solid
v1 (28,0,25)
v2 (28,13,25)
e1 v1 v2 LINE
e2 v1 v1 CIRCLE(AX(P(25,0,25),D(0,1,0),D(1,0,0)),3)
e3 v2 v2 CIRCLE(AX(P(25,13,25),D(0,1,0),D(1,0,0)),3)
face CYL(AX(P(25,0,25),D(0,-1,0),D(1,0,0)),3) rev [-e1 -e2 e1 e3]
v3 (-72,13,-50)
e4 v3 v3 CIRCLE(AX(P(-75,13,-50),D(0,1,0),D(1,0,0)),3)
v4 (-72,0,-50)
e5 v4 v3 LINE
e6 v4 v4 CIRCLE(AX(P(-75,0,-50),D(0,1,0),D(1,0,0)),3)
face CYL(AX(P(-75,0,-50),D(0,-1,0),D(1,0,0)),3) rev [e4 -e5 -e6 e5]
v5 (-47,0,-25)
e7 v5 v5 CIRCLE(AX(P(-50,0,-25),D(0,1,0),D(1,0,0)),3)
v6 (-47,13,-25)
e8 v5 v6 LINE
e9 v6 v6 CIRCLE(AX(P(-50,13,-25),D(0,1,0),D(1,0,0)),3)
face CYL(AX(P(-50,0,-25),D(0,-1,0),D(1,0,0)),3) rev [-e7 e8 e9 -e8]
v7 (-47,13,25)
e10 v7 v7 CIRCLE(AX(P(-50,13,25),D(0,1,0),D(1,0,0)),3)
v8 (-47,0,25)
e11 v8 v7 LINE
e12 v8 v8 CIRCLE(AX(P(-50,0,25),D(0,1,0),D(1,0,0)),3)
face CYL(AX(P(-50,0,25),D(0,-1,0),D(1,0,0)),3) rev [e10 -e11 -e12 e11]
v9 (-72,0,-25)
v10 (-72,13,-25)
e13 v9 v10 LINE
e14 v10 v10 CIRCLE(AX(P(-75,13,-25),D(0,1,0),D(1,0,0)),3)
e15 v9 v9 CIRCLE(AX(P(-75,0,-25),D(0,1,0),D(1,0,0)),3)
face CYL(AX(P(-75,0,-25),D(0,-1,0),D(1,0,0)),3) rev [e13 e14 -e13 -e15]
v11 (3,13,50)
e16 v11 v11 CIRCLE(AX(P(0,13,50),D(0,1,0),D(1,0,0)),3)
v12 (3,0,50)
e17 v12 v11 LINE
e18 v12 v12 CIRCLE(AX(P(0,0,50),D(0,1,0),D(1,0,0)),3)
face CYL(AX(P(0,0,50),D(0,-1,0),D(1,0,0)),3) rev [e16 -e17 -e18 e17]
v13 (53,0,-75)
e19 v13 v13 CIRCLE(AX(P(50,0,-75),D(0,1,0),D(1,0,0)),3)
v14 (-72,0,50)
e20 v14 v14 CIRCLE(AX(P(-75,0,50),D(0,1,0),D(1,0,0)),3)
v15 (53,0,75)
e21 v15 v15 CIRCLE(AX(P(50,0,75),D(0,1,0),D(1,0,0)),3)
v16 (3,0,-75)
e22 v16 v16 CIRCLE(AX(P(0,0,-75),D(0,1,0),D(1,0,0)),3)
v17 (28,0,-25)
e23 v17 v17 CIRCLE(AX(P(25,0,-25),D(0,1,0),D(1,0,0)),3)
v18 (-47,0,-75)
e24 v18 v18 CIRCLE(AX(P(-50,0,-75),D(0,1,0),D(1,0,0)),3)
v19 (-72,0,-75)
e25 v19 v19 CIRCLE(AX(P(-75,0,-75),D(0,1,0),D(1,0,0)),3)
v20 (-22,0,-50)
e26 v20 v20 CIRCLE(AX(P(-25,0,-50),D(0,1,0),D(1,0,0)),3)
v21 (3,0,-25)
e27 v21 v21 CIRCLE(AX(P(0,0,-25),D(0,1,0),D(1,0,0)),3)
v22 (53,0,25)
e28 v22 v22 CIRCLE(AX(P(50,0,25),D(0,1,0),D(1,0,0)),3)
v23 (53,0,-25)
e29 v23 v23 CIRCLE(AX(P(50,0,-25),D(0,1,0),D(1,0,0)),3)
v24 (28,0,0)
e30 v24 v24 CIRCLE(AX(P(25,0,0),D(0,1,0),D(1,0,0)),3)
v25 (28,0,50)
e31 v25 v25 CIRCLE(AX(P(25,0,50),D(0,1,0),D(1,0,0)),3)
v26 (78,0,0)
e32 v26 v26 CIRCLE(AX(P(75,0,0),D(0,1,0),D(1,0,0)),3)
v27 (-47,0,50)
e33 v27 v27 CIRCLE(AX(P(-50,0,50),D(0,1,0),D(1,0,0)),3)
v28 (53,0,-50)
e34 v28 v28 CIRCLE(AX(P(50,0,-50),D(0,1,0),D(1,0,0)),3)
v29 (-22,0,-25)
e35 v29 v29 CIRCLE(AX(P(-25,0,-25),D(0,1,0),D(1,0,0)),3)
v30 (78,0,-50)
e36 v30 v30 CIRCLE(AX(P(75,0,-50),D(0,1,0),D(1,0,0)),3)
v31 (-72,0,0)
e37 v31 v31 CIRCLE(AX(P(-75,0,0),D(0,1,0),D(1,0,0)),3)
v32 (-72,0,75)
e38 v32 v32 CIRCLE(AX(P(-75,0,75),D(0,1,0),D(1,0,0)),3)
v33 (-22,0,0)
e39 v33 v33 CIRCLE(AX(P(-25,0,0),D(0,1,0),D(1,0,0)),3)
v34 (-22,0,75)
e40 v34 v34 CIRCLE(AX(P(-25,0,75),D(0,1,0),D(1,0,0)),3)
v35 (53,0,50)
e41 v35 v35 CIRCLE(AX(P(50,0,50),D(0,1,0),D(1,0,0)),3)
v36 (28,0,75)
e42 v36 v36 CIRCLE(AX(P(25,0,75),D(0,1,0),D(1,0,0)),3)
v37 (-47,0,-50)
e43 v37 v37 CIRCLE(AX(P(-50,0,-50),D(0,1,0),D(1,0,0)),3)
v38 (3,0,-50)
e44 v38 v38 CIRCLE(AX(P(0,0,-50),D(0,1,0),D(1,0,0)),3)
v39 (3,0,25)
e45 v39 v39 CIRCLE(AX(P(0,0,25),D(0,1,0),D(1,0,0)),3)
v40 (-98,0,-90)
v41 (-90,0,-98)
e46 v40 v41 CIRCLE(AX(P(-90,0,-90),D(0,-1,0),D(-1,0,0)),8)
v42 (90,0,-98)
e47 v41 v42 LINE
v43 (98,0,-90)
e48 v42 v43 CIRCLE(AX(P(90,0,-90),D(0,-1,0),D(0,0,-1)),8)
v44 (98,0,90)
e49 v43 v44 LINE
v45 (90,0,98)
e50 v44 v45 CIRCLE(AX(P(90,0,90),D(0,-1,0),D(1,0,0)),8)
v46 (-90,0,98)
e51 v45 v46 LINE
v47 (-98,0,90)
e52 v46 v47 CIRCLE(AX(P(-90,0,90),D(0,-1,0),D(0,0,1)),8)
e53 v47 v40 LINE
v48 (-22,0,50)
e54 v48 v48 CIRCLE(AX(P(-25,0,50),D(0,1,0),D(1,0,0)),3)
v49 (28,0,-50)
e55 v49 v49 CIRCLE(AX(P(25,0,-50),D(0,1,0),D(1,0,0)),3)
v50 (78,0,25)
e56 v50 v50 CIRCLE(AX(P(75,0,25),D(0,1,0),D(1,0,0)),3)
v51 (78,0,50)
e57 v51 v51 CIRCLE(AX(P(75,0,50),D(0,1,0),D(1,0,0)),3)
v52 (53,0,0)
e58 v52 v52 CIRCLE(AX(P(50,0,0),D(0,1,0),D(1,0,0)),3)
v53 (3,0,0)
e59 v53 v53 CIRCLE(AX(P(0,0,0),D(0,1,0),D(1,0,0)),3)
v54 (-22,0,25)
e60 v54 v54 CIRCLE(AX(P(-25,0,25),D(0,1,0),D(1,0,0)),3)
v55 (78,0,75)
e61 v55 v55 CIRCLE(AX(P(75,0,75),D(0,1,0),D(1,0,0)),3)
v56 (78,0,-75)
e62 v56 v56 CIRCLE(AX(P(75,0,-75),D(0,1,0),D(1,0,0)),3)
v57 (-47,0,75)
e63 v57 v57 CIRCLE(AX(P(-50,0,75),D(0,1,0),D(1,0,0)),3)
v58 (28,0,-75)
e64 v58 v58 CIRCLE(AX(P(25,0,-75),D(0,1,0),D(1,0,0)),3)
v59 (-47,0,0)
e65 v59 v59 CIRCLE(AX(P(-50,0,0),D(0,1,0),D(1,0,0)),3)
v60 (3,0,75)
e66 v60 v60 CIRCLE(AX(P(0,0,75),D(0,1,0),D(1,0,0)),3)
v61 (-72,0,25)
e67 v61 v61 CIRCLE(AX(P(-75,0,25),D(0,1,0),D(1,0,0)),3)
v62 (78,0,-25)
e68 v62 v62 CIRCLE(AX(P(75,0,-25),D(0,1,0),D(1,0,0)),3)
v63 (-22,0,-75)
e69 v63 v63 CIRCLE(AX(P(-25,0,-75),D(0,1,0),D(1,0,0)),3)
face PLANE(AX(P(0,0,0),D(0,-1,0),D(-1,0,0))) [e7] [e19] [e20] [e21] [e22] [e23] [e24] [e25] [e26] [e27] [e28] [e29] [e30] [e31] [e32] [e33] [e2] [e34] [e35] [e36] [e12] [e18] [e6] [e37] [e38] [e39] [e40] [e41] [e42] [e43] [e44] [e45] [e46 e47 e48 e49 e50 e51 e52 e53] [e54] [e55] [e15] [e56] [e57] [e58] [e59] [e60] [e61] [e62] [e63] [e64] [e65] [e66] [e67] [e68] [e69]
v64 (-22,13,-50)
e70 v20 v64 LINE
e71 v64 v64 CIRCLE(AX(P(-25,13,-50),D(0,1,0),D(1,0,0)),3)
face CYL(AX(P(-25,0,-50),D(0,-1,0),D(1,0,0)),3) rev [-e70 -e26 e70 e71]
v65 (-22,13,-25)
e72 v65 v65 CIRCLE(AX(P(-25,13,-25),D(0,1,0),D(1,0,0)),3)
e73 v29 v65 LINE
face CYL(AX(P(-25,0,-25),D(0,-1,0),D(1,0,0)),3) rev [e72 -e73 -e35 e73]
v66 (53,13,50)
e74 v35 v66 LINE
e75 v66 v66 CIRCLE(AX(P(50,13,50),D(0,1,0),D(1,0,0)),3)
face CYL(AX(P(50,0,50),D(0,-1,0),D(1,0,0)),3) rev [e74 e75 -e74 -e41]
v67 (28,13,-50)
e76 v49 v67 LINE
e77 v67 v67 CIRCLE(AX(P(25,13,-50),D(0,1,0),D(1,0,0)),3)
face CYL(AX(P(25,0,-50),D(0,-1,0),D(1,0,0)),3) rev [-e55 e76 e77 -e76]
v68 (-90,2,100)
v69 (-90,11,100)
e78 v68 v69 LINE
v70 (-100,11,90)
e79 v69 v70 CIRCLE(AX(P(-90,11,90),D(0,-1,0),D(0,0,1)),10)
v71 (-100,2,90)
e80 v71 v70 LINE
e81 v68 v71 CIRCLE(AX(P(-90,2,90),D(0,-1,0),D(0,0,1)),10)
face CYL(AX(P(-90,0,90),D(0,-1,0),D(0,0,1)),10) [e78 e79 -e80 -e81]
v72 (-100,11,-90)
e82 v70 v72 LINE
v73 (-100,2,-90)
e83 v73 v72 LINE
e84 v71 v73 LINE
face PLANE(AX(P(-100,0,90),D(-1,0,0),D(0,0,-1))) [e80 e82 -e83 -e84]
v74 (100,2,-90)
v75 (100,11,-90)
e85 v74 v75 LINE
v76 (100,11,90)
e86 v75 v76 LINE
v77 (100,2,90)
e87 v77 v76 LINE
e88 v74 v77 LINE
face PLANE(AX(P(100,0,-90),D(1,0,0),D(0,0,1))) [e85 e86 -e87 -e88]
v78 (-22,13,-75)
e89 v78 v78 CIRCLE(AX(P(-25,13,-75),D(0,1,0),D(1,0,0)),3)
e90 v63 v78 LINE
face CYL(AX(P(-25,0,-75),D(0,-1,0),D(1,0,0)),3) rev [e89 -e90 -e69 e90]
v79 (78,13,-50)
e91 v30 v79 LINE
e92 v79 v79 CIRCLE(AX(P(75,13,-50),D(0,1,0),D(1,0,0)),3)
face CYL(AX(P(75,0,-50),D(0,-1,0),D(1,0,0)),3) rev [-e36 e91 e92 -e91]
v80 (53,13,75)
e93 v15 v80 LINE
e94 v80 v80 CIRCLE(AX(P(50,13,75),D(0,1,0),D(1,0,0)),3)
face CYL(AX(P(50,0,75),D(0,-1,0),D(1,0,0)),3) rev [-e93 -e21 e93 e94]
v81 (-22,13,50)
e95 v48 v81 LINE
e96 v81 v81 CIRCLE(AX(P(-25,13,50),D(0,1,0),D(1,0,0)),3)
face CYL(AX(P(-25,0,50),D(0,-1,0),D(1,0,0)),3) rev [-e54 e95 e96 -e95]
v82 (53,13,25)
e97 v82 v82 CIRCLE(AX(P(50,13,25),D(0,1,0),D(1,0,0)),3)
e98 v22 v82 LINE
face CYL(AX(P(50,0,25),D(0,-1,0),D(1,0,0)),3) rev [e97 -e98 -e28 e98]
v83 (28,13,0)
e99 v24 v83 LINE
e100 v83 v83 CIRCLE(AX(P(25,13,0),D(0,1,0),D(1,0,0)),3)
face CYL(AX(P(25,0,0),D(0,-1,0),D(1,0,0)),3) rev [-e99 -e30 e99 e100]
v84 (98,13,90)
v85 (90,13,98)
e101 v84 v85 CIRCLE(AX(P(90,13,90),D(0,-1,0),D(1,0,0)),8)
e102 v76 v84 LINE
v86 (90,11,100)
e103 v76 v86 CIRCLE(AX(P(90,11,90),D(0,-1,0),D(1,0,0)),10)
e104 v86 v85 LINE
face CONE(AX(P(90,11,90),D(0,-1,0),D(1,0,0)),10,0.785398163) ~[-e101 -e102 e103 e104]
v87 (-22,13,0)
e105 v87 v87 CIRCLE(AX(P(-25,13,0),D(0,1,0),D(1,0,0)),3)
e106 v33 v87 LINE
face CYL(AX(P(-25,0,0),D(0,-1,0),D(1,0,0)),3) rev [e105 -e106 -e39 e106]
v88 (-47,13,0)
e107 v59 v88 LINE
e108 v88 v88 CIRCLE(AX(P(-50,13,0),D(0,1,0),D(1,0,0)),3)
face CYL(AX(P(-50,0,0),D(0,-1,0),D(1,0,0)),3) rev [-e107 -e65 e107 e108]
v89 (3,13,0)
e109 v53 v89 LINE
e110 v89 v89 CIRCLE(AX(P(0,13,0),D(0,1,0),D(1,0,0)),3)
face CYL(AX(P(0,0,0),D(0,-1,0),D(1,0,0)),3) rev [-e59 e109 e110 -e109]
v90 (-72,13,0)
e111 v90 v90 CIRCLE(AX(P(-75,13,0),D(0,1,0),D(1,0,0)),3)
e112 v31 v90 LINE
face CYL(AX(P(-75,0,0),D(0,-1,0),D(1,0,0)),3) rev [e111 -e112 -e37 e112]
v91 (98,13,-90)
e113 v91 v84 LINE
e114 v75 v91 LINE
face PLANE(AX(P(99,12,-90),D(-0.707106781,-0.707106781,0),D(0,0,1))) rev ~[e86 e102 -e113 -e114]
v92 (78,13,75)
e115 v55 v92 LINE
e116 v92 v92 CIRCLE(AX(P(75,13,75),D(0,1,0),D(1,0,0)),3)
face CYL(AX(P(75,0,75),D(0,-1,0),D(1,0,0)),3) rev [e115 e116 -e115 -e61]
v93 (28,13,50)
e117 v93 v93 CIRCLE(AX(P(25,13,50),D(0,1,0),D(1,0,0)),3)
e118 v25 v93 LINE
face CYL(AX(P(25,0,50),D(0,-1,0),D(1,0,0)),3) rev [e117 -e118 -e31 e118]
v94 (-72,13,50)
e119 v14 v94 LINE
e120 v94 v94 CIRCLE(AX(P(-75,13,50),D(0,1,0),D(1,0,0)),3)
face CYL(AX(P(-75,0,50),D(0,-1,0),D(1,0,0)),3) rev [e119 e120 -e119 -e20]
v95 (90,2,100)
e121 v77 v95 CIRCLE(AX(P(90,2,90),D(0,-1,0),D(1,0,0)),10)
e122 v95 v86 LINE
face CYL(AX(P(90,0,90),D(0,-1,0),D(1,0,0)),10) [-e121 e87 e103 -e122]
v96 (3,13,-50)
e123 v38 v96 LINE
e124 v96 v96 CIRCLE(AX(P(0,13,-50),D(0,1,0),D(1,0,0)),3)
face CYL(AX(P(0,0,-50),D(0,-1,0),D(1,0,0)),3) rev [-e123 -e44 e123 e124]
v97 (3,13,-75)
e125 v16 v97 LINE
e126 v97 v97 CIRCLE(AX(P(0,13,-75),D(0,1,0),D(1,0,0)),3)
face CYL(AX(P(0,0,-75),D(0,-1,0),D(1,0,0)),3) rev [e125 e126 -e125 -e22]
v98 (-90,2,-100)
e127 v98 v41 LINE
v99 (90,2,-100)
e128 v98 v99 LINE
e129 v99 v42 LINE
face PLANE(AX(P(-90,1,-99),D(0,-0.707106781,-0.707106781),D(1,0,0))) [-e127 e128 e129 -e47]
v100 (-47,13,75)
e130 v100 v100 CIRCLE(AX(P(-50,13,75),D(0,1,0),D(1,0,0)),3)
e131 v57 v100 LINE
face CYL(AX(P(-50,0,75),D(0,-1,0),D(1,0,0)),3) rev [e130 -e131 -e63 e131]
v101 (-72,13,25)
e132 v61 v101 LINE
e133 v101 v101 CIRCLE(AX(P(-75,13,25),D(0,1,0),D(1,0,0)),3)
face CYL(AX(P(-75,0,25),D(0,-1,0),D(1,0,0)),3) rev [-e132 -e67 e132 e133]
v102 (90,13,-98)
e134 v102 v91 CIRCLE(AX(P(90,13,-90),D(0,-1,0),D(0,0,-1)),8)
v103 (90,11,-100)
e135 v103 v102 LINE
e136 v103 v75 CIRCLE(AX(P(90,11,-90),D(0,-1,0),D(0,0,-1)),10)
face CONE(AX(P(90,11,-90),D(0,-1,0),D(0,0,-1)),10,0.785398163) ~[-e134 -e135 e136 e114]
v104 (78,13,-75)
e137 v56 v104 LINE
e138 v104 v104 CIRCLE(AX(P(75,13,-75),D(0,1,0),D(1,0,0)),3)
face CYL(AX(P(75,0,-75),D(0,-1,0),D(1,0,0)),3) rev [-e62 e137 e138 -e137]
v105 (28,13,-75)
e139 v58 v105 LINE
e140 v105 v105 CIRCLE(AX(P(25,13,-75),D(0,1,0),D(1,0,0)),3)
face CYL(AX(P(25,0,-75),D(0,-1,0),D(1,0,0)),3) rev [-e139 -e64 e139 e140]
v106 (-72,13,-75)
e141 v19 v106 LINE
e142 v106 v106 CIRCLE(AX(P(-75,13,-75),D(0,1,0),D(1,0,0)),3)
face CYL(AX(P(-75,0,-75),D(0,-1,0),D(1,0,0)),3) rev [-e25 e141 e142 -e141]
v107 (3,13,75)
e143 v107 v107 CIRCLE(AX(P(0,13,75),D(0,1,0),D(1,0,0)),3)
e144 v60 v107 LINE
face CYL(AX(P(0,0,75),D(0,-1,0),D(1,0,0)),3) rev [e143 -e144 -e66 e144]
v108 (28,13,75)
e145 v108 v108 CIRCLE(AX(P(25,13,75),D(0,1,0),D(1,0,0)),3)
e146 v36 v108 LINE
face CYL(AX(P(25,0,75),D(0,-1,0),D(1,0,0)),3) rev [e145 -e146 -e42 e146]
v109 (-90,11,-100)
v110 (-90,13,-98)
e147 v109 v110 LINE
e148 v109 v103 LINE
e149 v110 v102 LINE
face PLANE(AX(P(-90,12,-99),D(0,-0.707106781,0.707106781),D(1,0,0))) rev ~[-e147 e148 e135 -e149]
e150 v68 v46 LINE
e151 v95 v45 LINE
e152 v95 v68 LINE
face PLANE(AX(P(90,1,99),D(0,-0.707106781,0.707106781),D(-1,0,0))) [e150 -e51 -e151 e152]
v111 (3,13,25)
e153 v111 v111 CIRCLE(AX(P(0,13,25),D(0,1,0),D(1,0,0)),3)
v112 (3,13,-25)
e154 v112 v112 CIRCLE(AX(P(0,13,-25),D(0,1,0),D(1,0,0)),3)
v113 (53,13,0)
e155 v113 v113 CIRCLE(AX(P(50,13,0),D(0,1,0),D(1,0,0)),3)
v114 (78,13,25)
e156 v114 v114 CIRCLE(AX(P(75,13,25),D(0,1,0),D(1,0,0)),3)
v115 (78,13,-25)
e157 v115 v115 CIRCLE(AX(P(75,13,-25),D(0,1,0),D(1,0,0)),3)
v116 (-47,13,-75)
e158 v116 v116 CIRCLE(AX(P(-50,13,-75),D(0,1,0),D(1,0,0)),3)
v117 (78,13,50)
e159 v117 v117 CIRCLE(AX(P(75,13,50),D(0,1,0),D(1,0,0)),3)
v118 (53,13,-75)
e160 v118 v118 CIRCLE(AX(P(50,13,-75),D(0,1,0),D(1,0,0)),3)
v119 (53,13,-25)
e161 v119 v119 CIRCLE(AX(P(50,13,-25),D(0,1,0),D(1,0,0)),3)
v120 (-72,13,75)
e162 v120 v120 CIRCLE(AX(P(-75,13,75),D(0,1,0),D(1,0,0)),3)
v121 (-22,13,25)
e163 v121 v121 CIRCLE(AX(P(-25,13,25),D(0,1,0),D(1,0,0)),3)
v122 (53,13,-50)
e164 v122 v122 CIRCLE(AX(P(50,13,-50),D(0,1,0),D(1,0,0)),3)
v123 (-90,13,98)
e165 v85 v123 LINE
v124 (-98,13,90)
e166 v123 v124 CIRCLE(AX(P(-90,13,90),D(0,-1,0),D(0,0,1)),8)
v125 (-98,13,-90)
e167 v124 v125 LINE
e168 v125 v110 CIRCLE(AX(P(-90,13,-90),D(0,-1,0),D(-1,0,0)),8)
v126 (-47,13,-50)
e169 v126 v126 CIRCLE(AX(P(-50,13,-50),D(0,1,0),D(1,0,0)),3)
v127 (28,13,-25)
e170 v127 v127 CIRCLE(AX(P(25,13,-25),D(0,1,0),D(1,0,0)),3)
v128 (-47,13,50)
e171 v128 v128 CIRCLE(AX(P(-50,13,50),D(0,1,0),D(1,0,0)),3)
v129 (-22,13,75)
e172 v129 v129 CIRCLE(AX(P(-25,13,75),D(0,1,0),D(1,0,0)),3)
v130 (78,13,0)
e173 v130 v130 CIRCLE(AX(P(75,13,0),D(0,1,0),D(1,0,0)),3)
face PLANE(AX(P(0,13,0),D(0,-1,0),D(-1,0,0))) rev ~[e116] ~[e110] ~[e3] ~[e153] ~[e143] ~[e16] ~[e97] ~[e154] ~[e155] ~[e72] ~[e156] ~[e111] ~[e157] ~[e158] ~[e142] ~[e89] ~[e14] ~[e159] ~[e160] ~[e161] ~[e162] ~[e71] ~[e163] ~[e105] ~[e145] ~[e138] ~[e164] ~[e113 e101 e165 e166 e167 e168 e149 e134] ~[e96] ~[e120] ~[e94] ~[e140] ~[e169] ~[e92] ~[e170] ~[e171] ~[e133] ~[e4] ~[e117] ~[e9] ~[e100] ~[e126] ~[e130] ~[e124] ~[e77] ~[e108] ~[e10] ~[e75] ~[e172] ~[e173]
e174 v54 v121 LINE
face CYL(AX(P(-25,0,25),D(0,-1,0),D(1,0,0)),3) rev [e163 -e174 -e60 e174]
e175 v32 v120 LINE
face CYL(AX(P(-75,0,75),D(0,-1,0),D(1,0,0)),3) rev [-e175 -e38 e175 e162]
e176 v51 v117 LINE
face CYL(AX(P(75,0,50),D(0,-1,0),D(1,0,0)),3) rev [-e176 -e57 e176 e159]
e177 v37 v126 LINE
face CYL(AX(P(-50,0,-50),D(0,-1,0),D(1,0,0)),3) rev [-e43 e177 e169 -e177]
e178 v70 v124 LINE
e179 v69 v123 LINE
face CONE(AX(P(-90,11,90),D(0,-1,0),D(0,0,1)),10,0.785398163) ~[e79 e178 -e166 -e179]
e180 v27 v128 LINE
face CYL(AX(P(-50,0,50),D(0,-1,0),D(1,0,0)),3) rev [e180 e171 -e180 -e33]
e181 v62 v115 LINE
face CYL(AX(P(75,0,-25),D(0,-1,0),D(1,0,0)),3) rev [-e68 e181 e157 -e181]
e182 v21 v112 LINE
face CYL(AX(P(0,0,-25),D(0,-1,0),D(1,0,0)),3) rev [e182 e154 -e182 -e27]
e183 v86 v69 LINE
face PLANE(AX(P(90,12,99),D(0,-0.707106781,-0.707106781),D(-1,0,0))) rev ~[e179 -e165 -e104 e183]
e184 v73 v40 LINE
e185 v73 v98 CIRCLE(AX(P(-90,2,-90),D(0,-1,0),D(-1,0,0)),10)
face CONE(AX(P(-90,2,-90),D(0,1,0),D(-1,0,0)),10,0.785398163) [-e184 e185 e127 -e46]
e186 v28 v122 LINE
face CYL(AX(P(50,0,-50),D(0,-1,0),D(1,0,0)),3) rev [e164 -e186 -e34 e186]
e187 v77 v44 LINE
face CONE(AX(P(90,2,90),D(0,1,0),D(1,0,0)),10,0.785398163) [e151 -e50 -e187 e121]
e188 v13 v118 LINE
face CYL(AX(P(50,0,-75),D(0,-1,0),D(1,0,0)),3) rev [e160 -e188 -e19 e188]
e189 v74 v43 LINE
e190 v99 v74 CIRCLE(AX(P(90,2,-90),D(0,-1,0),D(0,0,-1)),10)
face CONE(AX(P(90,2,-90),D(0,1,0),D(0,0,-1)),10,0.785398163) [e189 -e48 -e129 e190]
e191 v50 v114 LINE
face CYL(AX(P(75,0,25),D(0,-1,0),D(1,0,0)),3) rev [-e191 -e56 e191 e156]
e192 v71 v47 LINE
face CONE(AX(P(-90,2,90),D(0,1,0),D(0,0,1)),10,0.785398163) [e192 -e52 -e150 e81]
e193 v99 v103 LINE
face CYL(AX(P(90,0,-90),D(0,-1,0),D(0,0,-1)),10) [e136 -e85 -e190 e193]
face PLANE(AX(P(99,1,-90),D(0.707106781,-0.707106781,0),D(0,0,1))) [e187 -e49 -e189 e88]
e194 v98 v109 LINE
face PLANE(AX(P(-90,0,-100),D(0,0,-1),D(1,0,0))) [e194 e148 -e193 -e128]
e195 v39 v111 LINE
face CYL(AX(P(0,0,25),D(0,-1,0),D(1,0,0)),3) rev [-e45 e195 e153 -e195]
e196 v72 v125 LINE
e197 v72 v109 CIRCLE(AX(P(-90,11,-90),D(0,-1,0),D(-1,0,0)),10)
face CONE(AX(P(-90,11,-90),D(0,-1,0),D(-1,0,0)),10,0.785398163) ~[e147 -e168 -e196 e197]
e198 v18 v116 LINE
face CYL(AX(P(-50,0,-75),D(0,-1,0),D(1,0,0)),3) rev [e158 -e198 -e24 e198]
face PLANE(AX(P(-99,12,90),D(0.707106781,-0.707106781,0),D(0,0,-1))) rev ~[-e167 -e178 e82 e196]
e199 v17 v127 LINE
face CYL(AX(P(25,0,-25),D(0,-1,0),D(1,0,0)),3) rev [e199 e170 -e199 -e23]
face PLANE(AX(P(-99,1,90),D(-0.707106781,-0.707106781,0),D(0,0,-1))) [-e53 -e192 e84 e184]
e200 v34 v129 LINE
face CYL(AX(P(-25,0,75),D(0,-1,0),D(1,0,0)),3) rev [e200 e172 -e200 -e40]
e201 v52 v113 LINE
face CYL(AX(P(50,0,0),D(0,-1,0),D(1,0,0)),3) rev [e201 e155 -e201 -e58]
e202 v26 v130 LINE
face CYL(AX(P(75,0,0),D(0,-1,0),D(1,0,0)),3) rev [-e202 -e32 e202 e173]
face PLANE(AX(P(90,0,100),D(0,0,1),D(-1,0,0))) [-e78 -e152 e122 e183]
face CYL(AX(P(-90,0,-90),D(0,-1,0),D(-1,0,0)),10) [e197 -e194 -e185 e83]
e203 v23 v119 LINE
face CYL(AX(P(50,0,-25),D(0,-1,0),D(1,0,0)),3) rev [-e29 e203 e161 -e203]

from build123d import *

# Parameters (mm, degrees)
SKETCH_1_R      = 3
EXTRUDE_1_DEPTH = 13
CHAMFER_1_SIZE  = 2


with BuildPart() as part:
    # 草图1 → 凸台-拉伸1 (new body)
    with BuildSketch(Plane(origin=(0, 0, 0), x_dir=(1, 0, 0), z_dir=(0, 1, 0))):
        with BuildLine():
            Line((-90, 100), (90, 100))
            ThreePointArc((90, 100), (97.071067812, 97.071067812), (100, 90))
            Line((100, 90), (100, -90))
            ThreePointArc((100, -90), (97.071067812, -97.071067812), (90, -100))
            Line((90, -100), (-90, -100))
            ThreePointArc((-90, -100), (-97.071067812, -97.071067812), (-100, -90))
            Line((-100, -90), (-100, 90))
            ThreePointArc((-100, 90), (-97.071067812, 97.071067812), (-90, 100))
        make_face()
        with Locations((-75, 75)):
            Circle(SKETCH_1_R, mode=Mode.SUBTRACT)
        with Locations((-50, 75)):
            Circle(SKETCH_1_R, mode=Mode.SUBTRACT)
        with Locations((-25, 75)):
            Circle(SKETCH_1_R, mode=Mode.SUBTRACT)
        with Locations((0, 75)):
            Circle(SKETCH_1_R, mode=Mode.SUBTRACT)
        with Locations((25, 75)):
            Circle(SKETCH_1_R, mode=Mode.SUBTRACT)
        with Locations((50, 75)):
            Circle(SKETCH_1_R, mode=Mode.SUBTRACT)
        with Locations((75, 75)):
            Circle(SKETCH_1_R, mode=Mode.SUBTRACT)
        with Locations((75, 50)):
            Circle(SKETCH_1_R, mode=Mode.SUBTRACT)
        with Locations((50, 50)):
            Circle(SKETCH_1_R, mode=Mode.SUBTRACT)
        with Locations((25, 50)):
            Circle(SKETCH_1_R, mode=Mode.SUBTRACT)
        with Locations((0, 50)):
            Circle(SKETCH_1_R, mode=Mode.SUBTRACT)
        with Locations((-25, 50)):
            Circle(SKETCH_1_R, mode=Mode.SUBTRACT)
        with Locations((-50, 50)):
            Circle(SKETCH_1_R, mode=Mode.SUBTRACT)
        with Locations((-75, 50)):
            Circle(SKETCH_1_R, mode=Mode.SUBTRACT)
        with Locations((75, 25)):
            Circle(SKETCH_1_R, mode=Mode.SUBTRACT)
        with Locations((50, 25)):
            Circle(SKETCH_1_R, mode=Mode.SUBTRACT)
        with Locations((25, 25)):
            Circle(SKETCH_1_R, mode=Mode.SUBTRACT)
        with Locations((0, 25)):
            Circle(SKETCH_1_R, mode=Mode.SUBTRACT)
        with Locations((-25, 25)):
            Circle(SKETCH_1_R, mode=Mode.SUBTRACT)
        with Locations((-50, 25)):
            Circle(SKETCH_1_R, mode=Mode.SUBTRACT)
        with Locations((-75, 25)):
            Circle(SKETCH_1_R, mode=Mode.SUBTRACT)
        with Locations((75, 0)):
            Circle(SKETCH_1_R, mode=Mode.SUBTRACT)
        with Locations((50, 0)):
            Circle(SKETCH_1_R, mode=Mode.SUBTRACT)
        with Locations((25, 0)):
            Circle(SKETCH_1_R, mode=Mode.SUBTRACT)
        Circle(SKETCH_1_R, mode=Mode.SUBTRACT)
        with Locations((-25, 0)):
            Circle(SKETCH_1_R, mode=Mode.SUBTRACT)
        with Locations((-50, 0)):
            Circle(SKETCH_1_R, mode=Mode.SUBTRACT)
        with Locations((-75, 0)):
            Circle(SKETCH_1_R, mode=Mode.SUBTRACT)
        with Locations((75, -25)):
            Circle(SKETCH_1_R, mode=Mode.SUBTRACT)
        with Locations((50, -25)):
            Circle(SKETCH_1_R, mode=Mode.SUBTRACT)
        with Locations((25, -25)):
            Circle(SKETCH_1_R, mode=Mode.SUBTRACT)
        with Locations((0, -25)):
            Circle(SKETCH_1_R, mode=Mode.SUBTRACT)
        with Locations((-25, -25)):
            Circle(SKETCH_1_R, mode=Mode.SUBTRACT)
        with Locations((-50, -25)):
            Circle(SKETCH_1_R, mode=Mode.SUBTRACT)
        with Locations((-75, -25)):
            Circle(SKETCH_1_R, mode=Mode.SUBTRACT)
        with Locations((75, -50)):
            Circle(SKETCH_1_R, mode=Mode.SUBTRACT)
        with Locations((50, -50)):
            Circle(SKETCH_1_R, mode=Mode.SUBTRACT)
        with Locations((25, -50)):
            Circle(SKETCH_1_R, mode=Mode.SUBTRACT)
        with Locations((0, -50)):
            Circle(SKETCH_1_R, mode=Mode.SUBTRACT)
        with Locations((-25, -50)):
            Circle(SKETCH_1_R, mode=Mode.SUBTRACT)
        with Locations((-50, -50)):
            Circle(SKETCH_1_R, mode=Mode.SUBTRACT)
        with Locations((-75, -50)):
            Circle(SKETCH_1_R, mode=Mode.SUBTRACT)
        with Locations((75, -75)):
            Circle(SKETCH_1_R, mode=Mode.SUBTRACT)
        with Locations((50, -75)):
            Circle(SKETCH_1_R, mode=Mode.SUBTRACT)
        with Locations((25, -75)):
            Circle(SKETCH_1_R, mode=Mode.SUBTRACT)
        with Locations((0, -75)):
            Circle(SKETCH_1_R, mode=Mode.SUBTRACT)
        with Locations((-25, -75)):
            Circle(SKETCH_1_R, mode=Mode.SUBTRACT)
        with Locations((-50, -75)):
            Circle(SKETCH_1_R, mode=Mode.SUBTRACT)
        with Locations((-75, -75)):
            Circle(SKETCH_1_R, mode=Mode.SUBTRACT)
    extrude(amount=EXTRUDE_1_DEPTH)

    # 倒角1
    chamfer_1_edges = [part.edges().sort_by_distance(p)[0] for p in [
        (0, 0, 100),
        (-97.071067812, 0, 97.071067812),
        (-100, 0, 0),
        (-97.071067812, 0, -97.071067812),
        (-97.071067812, 13, 97.071067812),
        (0, 13, 100),
        (97.071067812, 13, 97.071067812),
        (100, 13, 0),
        (97.071067812, 13, -97.071067812),
        (0, 13, -100),
        (-97.071067812, 13, -97.071067812),
        (0, 0, -100),
        (-100, 13, 0),
        (97.071067812, 0, -97.071067812),
        (100, 0, 0),
        (97.071067812, 0, 97.071067812),
    ]]
    chamfer(chamfer_1_edges, length=CHAMFER_1_SIZE)


solid = part.part
